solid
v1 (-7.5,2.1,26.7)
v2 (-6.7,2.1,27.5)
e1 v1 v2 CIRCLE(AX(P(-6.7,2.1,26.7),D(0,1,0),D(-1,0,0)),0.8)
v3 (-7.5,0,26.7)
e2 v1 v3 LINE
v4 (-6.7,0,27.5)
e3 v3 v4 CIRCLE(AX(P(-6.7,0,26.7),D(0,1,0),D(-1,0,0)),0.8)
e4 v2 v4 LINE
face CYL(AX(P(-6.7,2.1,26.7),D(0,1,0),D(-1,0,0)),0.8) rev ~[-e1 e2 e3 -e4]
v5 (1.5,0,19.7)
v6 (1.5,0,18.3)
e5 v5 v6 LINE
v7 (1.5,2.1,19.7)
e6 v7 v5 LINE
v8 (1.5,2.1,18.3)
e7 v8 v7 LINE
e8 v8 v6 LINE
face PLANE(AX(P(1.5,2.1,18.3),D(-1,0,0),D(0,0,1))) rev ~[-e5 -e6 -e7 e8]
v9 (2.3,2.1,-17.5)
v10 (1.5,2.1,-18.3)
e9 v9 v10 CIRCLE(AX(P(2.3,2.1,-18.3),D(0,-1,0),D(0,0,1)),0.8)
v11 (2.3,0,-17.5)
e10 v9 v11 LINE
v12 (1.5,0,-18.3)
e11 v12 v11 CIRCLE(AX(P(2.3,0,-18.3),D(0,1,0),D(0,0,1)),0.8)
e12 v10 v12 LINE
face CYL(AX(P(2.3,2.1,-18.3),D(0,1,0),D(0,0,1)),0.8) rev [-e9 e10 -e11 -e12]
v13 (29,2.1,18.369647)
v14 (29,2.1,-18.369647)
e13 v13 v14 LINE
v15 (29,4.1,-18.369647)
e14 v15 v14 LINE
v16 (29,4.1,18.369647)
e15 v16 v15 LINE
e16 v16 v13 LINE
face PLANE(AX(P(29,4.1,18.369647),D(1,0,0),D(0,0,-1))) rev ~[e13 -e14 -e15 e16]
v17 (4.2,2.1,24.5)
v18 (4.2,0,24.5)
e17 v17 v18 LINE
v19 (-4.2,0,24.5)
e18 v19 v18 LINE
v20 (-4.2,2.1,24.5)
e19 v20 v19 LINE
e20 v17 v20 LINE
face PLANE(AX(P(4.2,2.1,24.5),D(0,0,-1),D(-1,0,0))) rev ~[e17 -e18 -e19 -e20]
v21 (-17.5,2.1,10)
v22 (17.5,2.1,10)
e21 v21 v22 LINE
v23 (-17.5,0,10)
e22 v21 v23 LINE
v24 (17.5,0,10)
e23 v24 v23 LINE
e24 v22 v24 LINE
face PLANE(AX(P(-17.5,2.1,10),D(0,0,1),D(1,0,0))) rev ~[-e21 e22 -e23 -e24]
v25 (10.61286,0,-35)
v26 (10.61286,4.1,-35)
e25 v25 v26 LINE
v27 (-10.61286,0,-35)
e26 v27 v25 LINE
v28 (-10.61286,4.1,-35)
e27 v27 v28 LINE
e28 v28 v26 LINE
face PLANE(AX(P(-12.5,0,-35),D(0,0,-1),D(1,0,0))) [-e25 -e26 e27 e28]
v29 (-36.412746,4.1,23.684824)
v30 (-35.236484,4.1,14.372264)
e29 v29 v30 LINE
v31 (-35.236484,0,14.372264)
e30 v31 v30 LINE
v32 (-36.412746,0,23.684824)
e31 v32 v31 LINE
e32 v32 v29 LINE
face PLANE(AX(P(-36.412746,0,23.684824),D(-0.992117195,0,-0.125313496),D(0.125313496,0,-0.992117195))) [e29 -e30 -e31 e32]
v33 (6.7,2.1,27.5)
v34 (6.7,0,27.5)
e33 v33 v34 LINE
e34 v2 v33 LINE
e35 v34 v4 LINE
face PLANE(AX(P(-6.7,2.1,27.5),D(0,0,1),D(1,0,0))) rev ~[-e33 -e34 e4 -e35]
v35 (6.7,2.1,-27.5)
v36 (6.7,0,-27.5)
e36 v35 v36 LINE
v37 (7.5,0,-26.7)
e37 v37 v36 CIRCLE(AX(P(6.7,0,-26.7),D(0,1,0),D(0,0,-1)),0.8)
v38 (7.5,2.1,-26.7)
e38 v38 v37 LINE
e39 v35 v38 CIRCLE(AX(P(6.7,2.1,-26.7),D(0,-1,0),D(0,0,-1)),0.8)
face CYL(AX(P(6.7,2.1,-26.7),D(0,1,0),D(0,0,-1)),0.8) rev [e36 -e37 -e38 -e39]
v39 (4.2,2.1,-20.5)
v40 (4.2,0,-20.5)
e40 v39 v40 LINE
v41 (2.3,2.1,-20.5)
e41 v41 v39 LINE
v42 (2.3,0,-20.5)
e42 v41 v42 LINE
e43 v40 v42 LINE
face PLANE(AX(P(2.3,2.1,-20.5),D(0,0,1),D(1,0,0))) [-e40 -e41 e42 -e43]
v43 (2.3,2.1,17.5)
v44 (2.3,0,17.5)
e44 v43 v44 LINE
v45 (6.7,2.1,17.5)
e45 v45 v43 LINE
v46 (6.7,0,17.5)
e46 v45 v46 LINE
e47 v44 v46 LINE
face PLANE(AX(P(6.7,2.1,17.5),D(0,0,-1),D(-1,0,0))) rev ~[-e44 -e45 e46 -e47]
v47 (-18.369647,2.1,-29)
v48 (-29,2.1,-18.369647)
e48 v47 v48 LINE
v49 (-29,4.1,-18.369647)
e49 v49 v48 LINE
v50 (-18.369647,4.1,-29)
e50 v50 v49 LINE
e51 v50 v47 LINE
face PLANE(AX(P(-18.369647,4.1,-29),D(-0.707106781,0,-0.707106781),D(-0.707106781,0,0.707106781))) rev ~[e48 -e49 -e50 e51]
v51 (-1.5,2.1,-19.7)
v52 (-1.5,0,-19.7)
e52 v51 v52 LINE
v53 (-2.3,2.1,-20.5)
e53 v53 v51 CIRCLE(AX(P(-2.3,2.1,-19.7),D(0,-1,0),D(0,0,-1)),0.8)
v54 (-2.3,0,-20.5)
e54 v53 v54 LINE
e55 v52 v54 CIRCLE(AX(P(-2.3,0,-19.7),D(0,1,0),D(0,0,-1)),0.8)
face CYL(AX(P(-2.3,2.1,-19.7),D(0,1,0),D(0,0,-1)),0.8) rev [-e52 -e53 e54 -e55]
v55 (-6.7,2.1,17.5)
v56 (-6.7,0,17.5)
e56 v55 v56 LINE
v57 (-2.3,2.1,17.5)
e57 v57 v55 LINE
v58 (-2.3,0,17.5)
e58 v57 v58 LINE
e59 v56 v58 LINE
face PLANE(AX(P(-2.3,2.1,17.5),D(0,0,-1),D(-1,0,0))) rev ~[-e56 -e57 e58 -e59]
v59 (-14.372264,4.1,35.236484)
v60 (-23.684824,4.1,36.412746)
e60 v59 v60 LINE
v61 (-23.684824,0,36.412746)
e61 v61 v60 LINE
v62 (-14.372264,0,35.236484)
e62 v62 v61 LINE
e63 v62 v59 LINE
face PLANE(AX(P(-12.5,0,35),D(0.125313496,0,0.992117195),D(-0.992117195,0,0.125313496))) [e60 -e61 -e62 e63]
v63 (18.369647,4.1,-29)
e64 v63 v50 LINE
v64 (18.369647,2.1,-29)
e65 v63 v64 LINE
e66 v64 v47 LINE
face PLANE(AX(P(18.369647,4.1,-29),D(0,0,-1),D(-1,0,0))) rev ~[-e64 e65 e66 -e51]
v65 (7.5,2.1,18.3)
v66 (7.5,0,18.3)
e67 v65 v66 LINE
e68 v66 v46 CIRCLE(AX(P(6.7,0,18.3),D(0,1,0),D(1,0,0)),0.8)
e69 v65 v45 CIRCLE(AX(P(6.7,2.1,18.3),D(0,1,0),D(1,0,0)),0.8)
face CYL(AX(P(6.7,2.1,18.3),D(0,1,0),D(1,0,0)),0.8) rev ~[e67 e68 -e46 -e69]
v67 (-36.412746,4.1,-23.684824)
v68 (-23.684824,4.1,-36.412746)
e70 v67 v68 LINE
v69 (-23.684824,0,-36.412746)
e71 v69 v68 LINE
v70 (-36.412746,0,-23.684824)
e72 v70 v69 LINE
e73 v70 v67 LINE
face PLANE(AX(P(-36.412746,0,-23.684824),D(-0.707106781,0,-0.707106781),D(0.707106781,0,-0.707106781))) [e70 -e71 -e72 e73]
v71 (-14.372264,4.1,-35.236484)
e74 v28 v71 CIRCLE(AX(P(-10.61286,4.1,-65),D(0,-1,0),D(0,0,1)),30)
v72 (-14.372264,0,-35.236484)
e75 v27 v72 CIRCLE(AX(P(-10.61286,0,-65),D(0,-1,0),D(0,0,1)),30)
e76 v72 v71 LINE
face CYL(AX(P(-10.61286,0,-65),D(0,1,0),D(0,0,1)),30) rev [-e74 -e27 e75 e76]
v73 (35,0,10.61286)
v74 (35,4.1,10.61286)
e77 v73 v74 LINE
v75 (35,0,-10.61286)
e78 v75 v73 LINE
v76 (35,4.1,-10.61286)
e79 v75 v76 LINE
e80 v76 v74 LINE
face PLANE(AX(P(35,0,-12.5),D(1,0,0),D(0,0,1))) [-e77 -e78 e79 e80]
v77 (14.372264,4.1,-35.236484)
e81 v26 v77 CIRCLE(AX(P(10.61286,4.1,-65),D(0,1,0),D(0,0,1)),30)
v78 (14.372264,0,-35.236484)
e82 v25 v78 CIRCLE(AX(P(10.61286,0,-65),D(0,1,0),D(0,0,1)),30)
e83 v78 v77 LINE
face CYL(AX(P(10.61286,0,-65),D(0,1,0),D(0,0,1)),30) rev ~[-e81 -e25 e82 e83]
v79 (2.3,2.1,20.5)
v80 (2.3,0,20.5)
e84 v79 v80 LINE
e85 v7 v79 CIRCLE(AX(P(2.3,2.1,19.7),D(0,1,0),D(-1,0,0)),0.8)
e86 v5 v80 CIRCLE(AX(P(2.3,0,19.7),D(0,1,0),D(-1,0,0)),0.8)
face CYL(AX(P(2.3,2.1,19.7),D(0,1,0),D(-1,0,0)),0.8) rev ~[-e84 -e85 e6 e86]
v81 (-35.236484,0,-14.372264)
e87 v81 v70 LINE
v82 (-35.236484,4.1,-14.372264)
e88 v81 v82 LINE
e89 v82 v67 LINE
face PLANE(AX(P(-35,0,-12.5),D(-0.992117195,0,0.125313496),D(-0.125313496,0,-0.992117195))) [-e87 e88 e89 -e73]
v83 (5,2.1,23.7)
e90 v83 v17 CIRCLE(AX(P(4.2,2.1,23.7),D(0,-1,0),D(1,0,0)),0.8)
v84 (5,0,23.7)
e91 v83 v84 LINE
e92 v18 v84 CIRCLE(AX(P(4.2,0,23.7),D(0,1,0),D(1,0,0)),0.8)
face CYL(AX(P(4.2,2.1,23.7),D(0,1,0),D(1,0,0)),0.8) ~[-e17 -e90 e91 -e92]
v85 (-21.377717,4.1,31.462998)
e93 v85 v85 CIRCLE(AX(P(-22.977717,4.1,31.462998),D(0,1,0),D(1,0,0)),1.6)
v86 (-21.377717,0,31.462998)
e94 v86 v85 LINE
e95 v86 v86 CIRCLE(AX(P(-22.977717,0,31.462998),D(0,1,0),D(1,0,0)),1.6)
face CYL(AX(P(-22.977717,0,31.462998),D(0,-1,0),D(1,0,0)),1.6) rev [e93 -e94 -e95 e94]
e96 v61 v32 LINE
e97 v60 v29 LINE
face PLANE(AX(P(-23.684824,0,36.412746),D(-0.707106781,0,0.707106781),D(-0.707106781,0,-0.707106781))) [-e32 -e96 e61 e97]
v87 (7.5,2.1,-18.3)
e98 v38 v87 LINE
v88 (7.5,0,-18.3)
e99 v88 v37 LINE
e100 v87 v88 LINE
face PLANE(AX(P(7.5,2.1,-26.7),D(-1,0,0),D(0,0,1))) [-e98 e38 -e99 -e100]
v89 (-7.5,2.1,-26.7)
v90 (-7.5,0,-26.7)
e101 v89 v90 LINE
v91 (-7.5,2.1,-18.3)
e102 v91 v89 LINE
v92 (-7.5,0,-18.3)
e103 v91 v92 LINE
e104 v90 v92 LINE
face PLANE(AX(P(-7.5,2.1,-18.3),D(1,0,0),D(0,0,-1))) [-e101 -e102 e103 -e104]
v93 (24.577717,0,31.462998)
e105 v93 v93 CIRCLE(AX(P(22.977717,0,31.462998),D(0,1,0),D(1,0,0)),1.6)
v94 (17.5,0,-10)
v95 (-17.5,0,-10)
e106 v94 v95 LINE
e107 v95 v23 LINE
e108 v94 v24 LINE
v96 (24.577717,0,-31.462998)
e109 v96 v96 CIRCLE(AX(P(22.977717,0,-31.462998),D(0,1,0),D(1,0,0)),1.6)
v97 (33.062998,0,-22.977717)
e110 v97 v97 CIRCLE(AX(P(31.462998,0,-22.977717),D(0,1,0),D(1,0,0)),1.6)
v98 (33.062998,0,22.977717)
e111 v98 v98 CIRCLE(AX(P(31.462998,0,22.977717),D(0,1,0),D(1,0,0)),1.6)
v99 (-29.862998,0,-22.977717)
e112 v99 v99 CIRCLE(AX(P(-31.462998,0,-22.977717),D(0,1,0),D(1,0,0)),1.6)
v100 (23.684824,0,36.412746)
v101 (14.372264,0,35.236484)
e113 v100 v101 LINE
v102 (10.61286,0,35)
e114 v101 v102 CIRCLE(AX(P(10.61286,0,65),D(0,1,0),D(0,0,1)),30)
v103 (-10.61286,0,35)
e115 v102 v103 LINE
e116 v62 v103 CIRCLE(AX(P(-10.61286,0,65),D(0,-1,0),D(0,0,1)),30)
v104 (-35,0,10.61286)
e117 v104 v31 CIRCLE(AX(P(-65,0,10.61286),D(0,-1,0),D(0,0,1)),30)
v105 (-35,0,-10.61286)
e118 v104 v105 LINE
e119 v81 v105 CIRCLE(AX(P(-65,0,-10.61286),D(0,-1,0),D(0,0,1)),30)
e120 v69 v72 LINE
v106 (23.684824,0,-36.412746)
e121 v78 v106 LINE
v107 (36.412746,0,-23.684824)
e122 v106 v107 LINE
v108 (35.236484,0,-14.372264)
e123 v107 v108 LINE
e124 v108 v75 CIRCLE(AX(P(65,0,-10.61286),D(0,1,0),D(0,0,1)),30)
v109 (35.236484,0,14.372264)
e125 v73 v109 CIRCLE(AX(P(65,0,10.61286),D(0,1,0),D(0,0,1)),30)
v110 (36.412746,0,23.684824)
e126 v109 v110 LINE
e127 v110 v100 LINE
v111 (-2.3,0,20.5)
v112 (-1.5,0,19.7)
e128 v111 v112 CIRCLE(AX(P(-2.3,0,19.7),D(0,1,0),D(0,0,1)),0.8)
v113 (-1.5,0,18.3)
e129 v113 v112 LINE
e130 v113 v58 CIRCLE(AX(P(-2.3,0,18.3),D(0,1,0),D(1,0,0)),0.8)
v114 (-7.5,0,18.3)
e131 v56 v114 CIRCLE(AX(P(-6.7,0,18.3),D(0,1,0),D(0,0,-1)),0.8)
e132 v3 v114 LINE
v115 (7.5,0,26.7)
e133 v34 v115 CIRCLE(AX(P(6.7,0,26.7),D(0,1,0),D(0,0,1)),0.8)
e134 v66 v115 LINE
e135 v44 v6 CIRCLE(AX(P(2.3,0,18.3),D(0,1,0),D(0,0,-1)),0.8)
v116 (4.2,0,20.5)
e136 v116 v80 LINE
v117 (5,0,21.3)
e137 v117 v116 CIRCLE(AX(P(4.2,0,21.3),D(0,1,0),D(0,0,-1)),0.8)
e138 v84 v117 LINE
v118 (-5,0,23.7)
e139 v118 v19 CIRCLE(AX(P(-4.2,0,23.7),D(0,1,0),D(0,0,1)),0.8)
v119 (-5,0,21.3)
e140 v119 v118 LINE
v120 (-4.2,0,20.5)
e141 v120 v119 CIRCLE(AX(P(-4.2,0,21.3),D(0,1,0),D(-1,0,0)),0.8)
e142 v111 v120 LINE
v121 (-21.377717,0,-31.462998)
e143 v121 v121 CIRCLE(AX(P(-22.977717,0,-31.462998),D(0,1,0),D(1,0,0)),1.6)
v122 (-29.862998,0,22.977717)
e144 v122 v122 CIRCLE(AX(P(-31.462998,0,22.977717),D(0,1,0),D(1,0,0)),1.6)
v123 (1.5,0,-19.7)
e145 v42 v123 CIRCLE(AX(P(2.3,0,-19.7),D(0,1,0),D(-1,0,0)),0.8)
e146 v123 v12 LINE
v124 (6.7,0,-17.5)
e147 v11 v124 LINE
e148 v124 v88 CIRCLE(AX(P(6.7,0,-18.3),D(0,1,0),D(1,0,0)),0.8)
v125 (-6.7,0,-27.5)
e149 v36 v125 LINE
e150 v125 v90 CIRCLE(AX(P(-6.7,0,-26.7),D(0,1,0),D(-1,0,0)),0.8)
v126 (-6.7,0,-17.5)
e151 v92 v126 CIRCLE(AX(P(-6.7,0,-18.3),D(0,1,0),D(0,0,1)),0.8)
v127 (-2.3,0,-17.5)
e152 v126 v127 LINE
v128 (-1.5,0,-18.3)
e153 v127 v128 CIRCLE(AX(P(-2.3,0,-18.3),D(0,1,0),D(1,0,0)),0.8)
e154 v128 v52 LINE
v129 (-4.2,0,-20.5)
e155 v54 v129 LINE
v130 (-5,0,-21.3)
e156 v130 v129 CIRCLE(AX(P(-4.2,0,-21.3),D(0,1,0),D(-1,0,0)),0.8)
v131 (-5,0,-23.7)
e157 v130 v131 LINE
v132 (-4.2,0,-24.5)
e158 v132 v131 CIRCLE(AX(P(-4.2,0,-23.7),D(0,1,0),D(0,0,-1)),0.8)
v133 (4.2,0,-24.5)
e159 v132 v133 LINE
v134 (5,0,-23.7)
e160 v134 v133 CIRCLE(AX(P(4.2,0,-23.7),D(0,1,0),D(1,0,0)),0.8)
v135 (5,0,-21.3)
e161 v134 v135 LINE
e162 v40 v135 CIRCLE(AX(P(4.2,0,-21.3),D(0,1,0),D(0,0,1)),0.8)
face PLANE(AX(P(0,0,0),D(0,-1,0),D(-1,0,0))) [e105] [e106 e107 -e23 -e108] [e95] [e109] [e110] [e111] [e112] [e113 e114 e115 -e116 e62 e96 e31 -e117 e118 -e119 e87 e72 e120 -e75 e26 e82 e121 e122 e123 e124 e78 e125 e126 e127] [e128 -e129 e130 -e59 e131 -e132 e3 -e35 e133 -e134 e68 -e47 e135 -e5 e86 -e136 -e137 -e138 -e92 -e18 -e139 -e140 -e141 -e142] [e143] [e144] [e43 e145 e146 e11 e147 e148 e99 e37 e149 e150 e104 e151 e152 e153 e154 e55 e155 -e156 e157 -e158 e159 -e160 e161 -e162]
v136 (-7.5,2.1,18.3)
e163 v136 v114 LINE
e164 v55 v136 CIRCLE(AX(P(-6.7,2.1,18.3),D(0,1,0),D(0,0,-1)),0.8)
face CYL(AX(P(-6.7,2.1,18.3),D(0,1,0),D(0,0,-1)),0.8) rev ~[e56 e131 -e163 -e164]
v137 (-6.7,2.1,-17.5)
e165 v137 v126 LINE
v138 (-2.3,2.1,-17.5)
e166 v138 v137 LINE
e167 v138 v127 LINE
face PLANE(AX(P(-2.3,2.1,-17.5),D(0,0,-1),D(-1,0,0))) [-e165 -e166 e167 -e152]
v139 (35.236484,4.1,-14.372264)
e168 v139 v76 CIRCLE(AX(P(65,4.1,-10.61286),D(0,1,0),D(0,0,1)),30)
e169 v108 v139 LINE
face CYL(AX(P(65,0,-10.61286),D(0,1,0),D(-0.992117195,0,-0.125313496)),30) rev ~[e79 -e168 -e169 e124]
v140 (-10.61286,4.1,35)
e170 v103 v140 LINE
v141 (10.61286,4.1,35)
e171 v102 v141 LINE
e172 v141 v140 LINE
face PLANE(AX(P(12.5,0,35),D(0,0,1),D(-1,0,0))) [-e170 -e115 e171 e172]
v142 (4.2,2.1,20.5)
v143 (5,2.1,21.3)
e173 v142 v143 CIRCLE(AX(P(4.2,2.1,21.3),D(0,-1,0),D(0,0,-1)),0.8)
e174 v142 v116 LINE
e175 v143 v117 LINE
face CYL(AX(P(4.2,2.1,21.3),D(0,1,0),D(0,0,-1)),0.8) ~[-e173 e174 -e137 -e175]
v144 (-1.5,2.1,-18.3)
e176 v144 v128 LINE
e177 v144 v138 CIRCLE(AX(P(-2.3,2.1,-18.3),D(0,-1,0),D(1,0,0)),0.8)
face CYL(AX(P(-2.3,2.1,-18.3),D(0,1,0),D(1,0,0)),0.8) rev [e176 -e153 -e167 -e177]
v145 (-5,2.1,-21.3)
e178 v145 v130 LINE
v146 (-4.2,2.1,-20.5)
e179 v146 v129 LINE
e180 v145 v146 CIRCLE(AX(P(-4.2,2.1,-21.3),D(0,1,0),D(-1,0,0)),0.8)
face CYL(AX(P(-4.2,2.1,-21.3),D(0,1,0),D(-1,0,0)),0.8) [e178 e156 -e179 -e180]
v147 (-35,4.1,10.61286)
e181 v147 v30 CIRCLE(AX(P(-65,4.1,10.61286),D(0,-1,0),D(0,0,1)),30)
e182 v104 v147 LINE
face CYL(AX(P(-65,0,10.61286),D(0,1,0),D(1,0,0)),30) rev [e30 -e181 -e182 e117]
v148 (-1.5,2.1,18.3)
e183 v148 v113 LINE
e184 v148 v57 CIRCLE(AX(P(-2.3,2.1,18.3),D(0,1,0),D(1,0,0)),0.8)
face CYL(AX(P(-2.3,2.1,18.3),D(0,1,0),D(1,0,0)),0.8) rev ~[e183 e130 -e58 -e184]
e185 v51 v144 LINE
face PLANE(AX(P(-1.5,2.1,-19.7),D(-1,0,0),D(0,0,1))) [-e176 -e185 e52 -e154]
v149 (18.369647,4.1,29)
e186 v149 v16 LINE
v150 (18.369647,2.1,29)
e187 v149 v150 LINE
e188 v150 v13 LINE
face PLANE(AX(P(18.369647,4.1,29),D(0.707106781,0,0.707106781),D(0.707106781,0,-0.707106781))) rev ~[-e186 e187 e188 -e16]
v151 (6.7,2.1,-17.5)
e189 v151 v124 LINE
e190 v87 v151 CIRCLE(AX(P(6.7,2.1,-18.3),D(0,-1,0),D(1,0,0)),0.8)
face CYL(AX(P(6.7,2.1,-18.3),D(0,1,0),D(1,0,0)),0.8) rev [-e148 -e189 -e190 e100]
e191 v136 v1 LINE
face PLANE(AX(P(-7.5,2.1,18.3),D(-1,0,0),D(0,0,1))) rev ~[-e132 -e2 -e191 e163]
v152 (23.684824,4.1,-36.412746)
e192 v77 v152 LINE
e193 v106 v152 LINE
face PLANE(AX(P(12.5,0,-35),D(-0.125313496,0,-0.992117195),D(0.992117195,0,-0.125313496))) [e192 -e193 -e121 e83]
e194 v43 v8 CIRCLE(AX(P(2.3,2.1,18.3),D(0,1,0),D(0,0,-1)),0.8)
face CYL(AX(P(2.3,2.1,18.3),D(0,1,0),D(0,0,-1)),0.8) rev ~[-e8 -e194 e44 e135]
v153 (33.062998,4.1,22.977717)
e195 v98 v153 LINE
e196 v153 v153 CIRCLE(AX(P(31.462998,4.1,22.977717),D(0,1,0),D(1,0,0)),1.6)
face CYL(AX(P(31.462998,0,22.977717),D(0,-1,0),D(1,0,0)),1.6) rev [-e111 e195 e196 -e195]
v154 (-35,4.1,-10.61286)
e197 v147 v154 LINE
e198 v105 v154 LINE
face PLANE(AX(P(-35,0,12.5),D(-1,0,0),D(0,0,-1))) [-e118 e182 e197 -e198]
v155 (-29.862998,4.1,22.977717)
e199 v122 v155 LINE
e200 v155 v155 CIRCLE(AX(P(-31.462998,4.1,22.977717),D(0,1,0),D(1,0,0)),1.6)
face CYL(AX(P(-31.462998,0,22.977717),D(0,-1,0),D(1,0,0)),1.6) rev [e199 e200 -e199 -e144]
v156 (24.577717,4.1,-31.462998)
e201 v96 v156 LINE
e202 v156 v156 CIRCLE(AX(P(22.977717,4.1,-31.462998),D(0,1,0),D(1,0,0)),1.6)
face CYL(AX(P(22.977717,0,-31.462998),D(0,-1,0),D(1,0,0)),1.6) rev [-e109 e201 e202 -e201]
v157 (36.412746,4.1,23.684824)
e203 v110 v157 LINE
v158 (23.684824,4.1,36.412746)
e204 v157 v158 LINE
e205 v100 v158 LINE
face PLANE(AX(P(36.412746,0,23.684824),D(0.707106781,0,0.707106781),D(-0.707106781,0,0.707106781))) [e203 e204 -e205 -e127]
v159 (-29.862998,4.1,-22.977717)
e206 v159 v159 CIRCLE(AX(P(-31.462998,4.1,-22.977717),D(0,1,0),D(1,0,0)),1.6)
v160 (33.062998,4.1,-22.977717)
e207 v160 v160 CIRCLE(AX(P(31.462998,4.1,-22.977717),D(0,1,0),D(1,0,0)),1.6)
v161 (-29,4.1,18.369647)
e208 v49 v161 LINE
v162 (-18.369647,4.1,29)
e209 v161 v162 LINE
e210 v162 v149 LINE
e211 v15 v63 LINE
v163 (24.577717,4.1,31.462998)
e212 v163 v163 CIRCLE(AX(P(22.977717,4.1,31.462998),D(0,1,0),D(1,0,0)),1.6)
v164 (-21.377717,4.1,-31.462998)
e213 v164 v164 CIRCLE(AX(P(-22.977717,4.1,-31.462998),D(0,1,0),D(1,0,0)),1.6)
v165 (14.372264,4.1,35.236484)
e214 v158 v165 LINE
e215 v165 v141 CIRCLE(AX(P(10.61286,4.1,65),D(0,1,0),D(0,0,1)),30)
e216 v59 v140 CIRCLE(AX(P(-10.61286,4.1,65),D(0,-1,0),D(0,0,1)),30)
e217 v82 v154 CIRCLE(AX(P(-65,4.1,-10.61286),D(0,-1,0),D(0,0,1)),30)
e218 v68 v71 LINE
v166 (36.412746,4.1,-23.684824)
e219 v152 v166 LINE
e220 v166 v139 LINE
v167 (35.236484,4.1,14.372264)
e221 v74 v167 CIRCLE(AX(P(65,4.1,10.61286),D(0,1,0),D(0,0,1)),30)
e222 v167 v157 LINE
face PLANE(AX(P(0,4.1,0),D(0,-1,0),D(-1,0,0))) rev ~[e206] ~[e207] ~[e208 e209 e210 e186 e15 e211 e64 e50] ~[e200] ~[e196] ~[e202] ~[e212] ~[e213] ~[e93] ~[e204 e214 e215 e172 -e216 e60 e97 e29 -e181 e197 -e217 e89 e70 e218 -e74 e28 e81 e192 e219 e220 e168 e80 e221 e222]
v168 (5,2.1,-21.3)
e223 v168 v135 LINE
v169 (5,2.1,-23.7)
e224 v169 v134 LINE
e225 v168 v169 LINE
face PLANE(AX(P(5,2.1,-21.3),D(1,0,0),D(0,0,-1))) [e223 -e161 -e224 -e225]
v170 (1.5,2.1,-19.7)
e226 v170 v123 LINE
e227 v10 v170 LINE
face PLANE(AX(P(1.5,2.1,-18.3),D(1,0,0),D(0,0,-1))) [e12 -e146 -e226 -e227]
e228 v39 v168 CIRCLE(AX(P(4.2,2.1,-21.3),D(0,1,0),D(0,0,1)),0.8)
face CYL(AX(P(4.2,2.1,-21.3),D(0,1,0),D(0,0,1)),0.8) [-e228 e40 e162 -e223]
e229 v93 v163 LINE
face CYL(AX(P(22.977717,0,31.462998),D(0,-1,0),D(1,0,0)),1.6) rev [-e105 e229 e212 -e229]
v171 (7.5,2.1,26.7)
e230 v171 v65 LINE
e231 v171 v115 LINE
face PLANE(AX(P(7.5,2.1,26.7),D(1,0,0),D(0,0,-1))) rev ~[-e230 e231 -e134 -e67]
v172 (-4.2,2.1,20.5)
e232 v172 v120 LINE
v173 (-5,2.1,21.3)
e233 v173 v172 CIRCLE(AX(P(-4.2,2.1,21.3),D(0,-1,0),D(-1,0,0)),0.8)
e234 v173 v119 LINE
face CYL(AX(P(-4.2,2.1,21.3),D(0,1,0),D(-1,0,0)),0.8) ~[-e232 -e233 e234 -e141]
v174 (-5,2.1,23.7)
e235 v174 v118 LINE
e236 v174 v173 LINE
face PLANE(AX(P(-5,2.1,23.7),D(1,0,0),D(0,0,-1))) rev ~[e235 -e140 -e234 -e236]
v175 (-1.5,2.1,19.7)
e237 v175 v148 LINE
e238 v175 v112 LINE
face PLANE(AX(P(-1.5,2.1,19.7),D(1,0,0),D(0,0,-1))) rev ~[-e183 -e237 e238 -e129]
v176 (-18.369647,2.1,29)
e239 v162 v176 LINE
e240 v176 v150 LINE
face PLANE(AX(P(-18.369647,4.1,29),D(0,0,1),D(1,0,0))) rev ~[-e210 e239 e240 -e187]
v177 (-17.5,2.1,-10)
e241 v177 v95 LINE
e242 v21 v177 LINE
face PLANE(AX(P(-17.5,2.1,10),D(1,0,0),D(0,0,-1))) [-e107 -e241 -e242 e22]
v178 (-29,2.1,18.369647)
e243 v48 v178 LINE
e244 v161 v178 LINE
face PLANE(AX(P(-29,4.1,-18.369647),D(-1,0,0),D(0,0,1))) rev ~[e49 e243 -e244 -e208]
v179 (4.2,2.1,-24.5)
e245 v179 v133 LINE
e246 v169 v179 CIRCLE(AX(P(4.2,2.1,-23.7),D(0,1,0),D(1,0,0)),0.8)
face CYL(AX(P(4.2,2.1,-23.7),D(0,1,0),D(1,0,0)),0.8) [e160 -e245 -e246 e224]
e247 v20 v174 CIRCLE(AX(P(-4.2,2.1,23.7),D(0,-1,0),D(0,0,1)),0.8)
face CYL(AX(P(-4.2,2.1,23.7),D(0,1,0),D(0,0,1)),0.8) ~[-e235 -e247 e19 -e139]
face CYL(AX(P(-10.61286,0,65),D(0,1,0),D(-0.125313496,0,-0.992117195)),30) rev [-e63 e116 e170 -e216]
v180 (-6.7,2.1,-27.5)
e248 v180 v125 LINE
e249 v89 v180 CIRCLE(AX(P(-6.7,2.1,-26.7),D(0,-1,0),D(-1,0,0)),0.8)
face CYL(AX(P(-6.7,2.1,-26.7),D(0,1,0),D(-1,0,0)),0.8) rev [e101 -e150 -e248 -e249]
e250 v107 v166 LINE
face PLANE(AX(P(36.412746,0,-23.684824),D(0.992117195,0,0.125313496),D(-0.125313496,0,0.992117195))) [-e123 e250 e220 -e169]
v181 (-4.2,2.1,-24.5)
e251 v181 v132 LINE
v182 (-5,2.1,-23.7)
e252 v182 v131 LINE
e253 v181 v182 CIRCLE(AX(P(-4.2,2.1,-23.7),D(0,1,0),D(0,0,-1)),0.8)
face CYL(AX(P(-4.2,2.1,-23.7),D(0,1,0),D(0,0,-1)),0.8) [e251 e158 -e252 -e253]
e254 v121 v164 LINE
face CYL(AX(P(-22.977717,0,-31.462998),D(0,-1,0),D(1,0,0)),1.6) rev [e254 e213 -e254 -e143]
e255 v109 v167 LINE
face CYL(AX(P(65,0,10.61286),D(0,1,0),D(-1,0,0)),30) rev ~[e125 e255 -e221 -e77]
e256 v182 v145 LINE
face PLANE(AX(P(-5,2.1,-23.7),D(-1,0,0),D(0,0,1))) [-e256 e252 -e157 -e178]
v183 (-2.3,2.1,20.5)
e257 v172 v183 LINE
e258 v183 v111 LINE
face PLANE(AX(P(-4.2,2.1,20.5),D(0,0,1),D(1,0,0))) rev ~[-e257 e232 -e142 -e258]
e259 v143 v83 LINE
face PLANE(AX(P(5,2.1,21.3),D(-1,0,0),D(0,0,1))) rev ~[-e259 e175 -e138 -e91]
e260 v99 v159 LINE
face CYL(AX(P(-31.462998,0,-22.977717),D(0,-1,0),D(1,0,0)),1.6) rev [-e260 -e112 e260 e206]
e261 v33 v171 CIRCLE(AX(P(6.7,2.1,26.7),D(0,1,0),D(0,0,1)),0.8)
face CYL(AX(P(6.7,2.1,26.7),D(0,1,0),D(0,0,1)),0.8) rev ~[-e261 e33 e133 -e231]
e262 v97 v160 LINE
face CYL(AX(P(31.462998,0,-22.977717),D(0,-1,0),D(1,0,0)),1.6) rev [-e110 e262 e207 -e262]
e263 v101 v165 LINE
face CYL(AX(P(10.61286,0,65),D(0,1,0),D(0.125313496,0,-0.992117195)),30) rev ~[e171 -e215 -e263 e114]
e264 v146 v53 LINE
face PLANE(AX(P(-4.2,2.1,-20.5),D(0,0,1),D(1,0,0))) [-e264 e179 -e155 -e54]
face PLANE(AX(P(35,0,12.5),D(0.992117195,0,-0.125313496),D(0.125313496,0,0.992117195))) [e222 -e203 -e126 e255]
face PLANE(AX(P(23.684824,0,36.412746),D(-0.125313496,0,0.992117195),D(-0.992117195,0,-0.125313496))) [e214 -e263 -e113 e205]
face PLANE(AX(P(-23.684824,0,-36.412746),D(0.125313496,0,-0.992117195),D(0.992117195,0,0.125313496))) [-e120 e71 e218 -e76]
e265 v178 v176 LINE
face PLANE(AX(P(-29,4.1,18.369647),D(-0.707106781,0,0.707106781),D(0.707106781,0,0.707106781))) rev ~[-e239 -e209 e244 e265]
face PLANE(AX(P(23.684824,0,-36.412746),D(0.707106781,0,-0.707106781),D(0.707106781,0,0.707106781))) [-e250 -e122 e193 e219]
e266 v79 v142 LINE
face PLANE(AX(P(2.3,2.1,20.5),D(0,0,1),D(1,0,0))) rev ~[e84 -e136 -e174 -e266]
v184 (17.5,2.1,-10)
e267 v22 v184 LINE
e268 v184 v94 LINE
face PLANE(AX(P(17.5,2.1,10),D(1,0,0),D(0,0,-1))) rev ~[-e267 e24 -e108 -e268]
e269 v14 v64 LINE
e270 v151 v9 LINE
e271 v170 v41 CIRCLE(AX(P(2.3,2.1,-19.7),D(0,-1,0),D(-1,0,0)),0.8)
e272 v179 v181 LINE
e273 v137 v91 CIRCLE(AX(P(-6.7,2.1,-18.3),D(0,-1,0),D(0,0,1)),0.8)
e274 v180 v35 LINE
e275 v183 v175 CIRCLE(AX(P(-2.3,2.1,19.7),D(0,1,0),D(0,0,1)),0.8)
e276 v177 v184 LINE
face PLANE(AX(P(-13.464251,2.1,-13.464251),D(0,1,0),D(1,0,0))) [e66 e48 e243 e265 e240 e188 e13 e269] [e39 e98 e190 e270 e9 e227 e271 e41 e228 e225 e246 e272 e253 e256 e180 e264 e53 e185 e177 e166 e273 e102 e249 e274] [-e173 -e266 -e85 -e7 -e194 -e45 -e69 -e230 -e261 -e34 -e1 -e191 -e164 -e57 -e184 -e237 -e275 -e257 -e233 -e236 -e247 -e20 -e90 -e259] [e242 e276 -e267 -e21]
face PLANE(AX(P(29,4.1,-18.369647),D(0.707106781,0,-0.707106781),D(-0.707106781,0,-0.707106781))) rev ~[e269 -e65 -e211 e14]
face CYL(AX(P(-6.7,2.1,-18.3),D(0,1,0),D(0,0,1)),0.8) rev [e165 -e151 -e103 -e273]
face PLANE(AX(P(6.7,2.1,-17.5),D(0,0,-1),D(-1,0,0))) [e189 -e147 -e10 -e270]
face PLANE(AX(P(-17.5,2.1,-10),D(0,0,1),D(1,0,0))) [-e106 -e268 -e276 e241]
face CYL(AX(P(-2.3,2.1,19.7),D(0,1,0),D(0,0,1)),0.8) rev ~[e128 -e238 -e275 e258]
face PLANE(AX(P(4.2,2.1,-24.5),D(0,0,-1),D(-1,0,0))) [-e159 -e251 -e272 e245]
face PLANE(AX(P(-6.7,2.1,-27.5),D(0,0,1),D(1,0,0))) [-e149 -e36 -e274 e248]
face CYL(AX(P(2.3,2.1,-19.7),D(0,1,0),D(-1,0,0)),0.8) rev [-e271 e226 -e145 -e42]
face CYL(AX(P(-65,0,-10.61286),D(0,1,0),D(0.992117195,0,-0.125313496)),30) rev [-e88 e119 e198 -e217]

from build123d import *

# Parameters (mm, degrees)
SKETCH1_R           = 1.6
BOSS_EXTRUDE1_DEPTH = 4.1
CUT_EXTRUDE1_DEPTH  = 2
FILLET2_R           = 30
CUT_EXTRUDE4_DEPTH  = 52.538200475
SKETCH7_W           = 35
SKETCH7_H           = 20
CUT_EXTRUDE5_DEPTH  = 52.538200475


with BuildPart() as part:
    # Sketch1 → Boss-Extrude1 (new body)
    with BuildSketch(Plane(origin=(0, 0, 0), x_dir=(1, 0, 0), z_dir=(0, 1, 0))):
        Polygon((-12.5, 35), (12.5, 35), (23.684823703, 36.412745764), (36.412745764, 23.684823703), (35, 12.5), (35, -12.5), (36.412745764, -23.684823703), (23.684823703, -36.412745764), (12.5, -35), (-12.5, -35), (-23.684823703, -36.412745764), (-36.412745764, -23.684823703), (-35, -12.5), (-35, 12.5), (-36.412745764, 23.684823703), (-23.684823703, 36.412745764), align=None)
        with Locations((22.977716922, 31.462998296)):
            Circle(SKETCH1_R, mode=Mode.SUBTRACT)
        with Locations((31.462998296, 22.977716922)):
            Circle(SKETCH1_R, mode=Mode.SUBTRACT)
        with Locations((31.462998296, -22.977716922)):
            Circle(SKETCH1_R, mode=Mode.SUBTRACT)
        with Locations((22.977716922, -31.462998296)):
            Circle(SKETCH1_R, mode=Mode.SUBTRACT)
        with Locations((-22.977716922, -31.462998296)):
            Circle(SKETCH1_R, mode=Mode.SUBTRACT)
        with Locations((-31.462998296, -22.977716922)):
            Circle(SKETCH1_R, mode=Mode.SUBTRACT)
        with Locations((-31.462998296, 22.977716922)):
            Circle(SKETCH1_R, mode=Mode.SUBTRACT)
        with Locations((-22.977716922, 31.462998296)):
            Circle(SKETCH1_R, mode=Mode.SUBTRACT)
    extrude(amount=BOSS_EXTRUDE1_DEPTH)

    # Sketch2 → Cut-Extrude1 (cut)
    with BuildSketch(Plane(origin=(0, 4.1, 0), x_dir=(1, 0, 0), z_dir=(0, 1, 0))):
        Polygon((18.369647406, 29), (-18.369647406, 29), (-29, 18.369647406), (-29, -18.369647406), (-18.369647406, -29), (18.369647406, -29), (29, -18.369647406), (29, 18.369647406), align=None)
    extrude(amount=-CUT_EXTRUDE1_DEPTH, mode=Mode.SUBTRACT)

    # Fillet2
    fillet2_edges = [part.edges().sort_by_distance(p)[0] for p in [
        (-35, 2.05, 12.5),
        (-35, 2.05, -12.5),
        (-12.5, 2.05, -35),
        (12.5, 2.05, -35),
        (35, 2.05, -12.5),
        (35, 2.05, 12.5),
        (12.5, 2.05, 35),
        (-12.5, 2.05, 35),
    ]]
    fillet(fillet2_edges, radius=FILLET2_R)

    # Sketch6 → Cut-Extrude4 (cut, through all)
    with BuildSketch(Plane(origin=(0, 2.1, 0), x_dir=(1, 0, 0), z_dir=(0, 1, 0))):
        with BuildLine():
            Line((-1.5, 19.7), (-1.5, 18.3))
            ThreePointArc((-1.5, 18.3), (-1.734314575, 17.734314575), (-2.3, 17.5))
            Line((-2.3, 17.5), (-6.7, 17.5))
            ThreePointArc((-6.7, 17.5), (-7.265685425, 17.734314575), (-7.5, 18.3))
            Line((-7.5, 18.3), (-7.5, 26.7))
            ThreePointArc((-7.5, 26.7), (-7.265685425, 27.265685425), (-6.7, 27.5))
            Line((-6.7, 27.5), (6.7, 27.5))
            ThreePointArc((6.7, 27.5), (7.265685425, 27.265685425), (7.5, 26.7))
            Line((7.5, 26.7), (7.5, 18.3))
            ThreePointArc((7.5, 18.3), (7.265685425, 17.734314575), (6.7, 17.5))
            Line((6.7, 17.5), (2.3, 17.5))
            ThreePointArc((2.3, 17.5), (1.734314575, 17.734314575), (1.5, 18.3))
            Line((1.5, 18.3), (1.5, 19.7))
            ThreePointArc((1.5, 19.7), (1.734314575, 20.265685425), (2.3, 20.5))
            Line((2.3, 20.5), (4.2, 20.5))
            ThreePointArc((4.2, 20.5), (4.765685425, 20.734314575), (5, 21.3))
            Line((5, 21.3), (5, 23.7))
            ThreePointArc((5, 23.7), (4.765685425, 24.265685425), (4.2, 24.5))
            Line((4.2, 24.5), (-4.2, 24.5))
            ThreePointArc((-4.2, 24.5), (-4.765685425, 24.265685425), (-5, 23.7))
            Line((-5, 23.7), (-5, 21.3))
            ThreePointArc((-5, 21.3), (-4.765685425, 20.734314575), (-4.2, 20.5))
            Line((-4.2, 20.5), (-2.3, 20.5))
            ThreePointArc((-2.3, 20.5), (-1.734314575, 20.265685425), (-1.5, 19.7))
        make_face()
        with BuildLine():
            Line((-1.5, -19.7), (-1.5, -18.3))
            ThreePointArc((-1.5, -18.3), (-1.734314575, -17.734314575), (-2.3, -17.5))
            Line((-2.3, -17.5), (-6.7, -17.5))
            ThreePointArc((-6.7, -17.5), (-7.265685425, -17.734314575), (-7.5, -18.3))
            Line((-7.5, -18.3), (-7.5, -26.7))
            ThreePointArc((-7.5, -26.7), (-7.265685425, -27.265685425), (-6.7, -27.5))
            Line((-6.7, -27.5), (6.7, -27.5))
            ThreePointArc((6.7, -27.5), (7.265685425, -27.265685425), (7.5, -26.7))
            Line((7.5, -26.7), (7.5, -18.3))
            ThreePointArc((7.5, -18.3), (7.265685425, -17.734314575), (6.7, -17.5))
            Line((6.7, -17.5), (2.3, -17.5))
            ThreePointArc((2.3, -17.5), (1.734314575, -17.734314575), (1.5, -18.3))
            Line((1.5, -18.3), (1.5, -19.7))
            ThreePointArc((1.5, -19.7), (1.734314575, -20.265685425), (2.3, -20.5))
            Line((2.3, -20.5), (4.2, -20.5))
            ThreePointArc((4.2, -20.5), (4.765685425, -20.734314575), (5, -21.3))
            Line((5, -21.3), (5, -23.7))
            ThreePointArc((5, -23.7), (4.765685425, -24.265685425), (4.2, -24.5))
            Line((4.2, -24.5), (-4.2, -24.5))
            ThreePointArc((-4.2, -24.5), (-4.765685425, -24.265685425), (-5, -23.7))
            Line((-5, -23.7), (-5, -21.3))
            ThreePointArc((-5, -21.3), (-4.765685425, -20.734314575), (-4.2, -20.5))
            Line((-4.2, -20.5), (-2.3, -20.5))
            ThreePointArc((-2.3, -20.5), (-1.734314575, -20.265685425), (-1.5, -19.7))
        make_face()
    extrude(amount=-CUT_EXTRUDE4_DEPTH, mode=Mode.SUBTRACT)

    # Sketch7 → Cut-Extrude5 (cut, through all)
    with BuildSketch(Plane(origin=(0, 2.1, 0), x_dir=(1, 0, 0), z_dir=(0, 1, 0))):
        Rectangle(SKETCH7_W, SKETCH7_H)
    extrude(amount=-CUT_EXTRUDE5_DEPTH, mode=Mode.SUBTRACT)


solid = part.part
